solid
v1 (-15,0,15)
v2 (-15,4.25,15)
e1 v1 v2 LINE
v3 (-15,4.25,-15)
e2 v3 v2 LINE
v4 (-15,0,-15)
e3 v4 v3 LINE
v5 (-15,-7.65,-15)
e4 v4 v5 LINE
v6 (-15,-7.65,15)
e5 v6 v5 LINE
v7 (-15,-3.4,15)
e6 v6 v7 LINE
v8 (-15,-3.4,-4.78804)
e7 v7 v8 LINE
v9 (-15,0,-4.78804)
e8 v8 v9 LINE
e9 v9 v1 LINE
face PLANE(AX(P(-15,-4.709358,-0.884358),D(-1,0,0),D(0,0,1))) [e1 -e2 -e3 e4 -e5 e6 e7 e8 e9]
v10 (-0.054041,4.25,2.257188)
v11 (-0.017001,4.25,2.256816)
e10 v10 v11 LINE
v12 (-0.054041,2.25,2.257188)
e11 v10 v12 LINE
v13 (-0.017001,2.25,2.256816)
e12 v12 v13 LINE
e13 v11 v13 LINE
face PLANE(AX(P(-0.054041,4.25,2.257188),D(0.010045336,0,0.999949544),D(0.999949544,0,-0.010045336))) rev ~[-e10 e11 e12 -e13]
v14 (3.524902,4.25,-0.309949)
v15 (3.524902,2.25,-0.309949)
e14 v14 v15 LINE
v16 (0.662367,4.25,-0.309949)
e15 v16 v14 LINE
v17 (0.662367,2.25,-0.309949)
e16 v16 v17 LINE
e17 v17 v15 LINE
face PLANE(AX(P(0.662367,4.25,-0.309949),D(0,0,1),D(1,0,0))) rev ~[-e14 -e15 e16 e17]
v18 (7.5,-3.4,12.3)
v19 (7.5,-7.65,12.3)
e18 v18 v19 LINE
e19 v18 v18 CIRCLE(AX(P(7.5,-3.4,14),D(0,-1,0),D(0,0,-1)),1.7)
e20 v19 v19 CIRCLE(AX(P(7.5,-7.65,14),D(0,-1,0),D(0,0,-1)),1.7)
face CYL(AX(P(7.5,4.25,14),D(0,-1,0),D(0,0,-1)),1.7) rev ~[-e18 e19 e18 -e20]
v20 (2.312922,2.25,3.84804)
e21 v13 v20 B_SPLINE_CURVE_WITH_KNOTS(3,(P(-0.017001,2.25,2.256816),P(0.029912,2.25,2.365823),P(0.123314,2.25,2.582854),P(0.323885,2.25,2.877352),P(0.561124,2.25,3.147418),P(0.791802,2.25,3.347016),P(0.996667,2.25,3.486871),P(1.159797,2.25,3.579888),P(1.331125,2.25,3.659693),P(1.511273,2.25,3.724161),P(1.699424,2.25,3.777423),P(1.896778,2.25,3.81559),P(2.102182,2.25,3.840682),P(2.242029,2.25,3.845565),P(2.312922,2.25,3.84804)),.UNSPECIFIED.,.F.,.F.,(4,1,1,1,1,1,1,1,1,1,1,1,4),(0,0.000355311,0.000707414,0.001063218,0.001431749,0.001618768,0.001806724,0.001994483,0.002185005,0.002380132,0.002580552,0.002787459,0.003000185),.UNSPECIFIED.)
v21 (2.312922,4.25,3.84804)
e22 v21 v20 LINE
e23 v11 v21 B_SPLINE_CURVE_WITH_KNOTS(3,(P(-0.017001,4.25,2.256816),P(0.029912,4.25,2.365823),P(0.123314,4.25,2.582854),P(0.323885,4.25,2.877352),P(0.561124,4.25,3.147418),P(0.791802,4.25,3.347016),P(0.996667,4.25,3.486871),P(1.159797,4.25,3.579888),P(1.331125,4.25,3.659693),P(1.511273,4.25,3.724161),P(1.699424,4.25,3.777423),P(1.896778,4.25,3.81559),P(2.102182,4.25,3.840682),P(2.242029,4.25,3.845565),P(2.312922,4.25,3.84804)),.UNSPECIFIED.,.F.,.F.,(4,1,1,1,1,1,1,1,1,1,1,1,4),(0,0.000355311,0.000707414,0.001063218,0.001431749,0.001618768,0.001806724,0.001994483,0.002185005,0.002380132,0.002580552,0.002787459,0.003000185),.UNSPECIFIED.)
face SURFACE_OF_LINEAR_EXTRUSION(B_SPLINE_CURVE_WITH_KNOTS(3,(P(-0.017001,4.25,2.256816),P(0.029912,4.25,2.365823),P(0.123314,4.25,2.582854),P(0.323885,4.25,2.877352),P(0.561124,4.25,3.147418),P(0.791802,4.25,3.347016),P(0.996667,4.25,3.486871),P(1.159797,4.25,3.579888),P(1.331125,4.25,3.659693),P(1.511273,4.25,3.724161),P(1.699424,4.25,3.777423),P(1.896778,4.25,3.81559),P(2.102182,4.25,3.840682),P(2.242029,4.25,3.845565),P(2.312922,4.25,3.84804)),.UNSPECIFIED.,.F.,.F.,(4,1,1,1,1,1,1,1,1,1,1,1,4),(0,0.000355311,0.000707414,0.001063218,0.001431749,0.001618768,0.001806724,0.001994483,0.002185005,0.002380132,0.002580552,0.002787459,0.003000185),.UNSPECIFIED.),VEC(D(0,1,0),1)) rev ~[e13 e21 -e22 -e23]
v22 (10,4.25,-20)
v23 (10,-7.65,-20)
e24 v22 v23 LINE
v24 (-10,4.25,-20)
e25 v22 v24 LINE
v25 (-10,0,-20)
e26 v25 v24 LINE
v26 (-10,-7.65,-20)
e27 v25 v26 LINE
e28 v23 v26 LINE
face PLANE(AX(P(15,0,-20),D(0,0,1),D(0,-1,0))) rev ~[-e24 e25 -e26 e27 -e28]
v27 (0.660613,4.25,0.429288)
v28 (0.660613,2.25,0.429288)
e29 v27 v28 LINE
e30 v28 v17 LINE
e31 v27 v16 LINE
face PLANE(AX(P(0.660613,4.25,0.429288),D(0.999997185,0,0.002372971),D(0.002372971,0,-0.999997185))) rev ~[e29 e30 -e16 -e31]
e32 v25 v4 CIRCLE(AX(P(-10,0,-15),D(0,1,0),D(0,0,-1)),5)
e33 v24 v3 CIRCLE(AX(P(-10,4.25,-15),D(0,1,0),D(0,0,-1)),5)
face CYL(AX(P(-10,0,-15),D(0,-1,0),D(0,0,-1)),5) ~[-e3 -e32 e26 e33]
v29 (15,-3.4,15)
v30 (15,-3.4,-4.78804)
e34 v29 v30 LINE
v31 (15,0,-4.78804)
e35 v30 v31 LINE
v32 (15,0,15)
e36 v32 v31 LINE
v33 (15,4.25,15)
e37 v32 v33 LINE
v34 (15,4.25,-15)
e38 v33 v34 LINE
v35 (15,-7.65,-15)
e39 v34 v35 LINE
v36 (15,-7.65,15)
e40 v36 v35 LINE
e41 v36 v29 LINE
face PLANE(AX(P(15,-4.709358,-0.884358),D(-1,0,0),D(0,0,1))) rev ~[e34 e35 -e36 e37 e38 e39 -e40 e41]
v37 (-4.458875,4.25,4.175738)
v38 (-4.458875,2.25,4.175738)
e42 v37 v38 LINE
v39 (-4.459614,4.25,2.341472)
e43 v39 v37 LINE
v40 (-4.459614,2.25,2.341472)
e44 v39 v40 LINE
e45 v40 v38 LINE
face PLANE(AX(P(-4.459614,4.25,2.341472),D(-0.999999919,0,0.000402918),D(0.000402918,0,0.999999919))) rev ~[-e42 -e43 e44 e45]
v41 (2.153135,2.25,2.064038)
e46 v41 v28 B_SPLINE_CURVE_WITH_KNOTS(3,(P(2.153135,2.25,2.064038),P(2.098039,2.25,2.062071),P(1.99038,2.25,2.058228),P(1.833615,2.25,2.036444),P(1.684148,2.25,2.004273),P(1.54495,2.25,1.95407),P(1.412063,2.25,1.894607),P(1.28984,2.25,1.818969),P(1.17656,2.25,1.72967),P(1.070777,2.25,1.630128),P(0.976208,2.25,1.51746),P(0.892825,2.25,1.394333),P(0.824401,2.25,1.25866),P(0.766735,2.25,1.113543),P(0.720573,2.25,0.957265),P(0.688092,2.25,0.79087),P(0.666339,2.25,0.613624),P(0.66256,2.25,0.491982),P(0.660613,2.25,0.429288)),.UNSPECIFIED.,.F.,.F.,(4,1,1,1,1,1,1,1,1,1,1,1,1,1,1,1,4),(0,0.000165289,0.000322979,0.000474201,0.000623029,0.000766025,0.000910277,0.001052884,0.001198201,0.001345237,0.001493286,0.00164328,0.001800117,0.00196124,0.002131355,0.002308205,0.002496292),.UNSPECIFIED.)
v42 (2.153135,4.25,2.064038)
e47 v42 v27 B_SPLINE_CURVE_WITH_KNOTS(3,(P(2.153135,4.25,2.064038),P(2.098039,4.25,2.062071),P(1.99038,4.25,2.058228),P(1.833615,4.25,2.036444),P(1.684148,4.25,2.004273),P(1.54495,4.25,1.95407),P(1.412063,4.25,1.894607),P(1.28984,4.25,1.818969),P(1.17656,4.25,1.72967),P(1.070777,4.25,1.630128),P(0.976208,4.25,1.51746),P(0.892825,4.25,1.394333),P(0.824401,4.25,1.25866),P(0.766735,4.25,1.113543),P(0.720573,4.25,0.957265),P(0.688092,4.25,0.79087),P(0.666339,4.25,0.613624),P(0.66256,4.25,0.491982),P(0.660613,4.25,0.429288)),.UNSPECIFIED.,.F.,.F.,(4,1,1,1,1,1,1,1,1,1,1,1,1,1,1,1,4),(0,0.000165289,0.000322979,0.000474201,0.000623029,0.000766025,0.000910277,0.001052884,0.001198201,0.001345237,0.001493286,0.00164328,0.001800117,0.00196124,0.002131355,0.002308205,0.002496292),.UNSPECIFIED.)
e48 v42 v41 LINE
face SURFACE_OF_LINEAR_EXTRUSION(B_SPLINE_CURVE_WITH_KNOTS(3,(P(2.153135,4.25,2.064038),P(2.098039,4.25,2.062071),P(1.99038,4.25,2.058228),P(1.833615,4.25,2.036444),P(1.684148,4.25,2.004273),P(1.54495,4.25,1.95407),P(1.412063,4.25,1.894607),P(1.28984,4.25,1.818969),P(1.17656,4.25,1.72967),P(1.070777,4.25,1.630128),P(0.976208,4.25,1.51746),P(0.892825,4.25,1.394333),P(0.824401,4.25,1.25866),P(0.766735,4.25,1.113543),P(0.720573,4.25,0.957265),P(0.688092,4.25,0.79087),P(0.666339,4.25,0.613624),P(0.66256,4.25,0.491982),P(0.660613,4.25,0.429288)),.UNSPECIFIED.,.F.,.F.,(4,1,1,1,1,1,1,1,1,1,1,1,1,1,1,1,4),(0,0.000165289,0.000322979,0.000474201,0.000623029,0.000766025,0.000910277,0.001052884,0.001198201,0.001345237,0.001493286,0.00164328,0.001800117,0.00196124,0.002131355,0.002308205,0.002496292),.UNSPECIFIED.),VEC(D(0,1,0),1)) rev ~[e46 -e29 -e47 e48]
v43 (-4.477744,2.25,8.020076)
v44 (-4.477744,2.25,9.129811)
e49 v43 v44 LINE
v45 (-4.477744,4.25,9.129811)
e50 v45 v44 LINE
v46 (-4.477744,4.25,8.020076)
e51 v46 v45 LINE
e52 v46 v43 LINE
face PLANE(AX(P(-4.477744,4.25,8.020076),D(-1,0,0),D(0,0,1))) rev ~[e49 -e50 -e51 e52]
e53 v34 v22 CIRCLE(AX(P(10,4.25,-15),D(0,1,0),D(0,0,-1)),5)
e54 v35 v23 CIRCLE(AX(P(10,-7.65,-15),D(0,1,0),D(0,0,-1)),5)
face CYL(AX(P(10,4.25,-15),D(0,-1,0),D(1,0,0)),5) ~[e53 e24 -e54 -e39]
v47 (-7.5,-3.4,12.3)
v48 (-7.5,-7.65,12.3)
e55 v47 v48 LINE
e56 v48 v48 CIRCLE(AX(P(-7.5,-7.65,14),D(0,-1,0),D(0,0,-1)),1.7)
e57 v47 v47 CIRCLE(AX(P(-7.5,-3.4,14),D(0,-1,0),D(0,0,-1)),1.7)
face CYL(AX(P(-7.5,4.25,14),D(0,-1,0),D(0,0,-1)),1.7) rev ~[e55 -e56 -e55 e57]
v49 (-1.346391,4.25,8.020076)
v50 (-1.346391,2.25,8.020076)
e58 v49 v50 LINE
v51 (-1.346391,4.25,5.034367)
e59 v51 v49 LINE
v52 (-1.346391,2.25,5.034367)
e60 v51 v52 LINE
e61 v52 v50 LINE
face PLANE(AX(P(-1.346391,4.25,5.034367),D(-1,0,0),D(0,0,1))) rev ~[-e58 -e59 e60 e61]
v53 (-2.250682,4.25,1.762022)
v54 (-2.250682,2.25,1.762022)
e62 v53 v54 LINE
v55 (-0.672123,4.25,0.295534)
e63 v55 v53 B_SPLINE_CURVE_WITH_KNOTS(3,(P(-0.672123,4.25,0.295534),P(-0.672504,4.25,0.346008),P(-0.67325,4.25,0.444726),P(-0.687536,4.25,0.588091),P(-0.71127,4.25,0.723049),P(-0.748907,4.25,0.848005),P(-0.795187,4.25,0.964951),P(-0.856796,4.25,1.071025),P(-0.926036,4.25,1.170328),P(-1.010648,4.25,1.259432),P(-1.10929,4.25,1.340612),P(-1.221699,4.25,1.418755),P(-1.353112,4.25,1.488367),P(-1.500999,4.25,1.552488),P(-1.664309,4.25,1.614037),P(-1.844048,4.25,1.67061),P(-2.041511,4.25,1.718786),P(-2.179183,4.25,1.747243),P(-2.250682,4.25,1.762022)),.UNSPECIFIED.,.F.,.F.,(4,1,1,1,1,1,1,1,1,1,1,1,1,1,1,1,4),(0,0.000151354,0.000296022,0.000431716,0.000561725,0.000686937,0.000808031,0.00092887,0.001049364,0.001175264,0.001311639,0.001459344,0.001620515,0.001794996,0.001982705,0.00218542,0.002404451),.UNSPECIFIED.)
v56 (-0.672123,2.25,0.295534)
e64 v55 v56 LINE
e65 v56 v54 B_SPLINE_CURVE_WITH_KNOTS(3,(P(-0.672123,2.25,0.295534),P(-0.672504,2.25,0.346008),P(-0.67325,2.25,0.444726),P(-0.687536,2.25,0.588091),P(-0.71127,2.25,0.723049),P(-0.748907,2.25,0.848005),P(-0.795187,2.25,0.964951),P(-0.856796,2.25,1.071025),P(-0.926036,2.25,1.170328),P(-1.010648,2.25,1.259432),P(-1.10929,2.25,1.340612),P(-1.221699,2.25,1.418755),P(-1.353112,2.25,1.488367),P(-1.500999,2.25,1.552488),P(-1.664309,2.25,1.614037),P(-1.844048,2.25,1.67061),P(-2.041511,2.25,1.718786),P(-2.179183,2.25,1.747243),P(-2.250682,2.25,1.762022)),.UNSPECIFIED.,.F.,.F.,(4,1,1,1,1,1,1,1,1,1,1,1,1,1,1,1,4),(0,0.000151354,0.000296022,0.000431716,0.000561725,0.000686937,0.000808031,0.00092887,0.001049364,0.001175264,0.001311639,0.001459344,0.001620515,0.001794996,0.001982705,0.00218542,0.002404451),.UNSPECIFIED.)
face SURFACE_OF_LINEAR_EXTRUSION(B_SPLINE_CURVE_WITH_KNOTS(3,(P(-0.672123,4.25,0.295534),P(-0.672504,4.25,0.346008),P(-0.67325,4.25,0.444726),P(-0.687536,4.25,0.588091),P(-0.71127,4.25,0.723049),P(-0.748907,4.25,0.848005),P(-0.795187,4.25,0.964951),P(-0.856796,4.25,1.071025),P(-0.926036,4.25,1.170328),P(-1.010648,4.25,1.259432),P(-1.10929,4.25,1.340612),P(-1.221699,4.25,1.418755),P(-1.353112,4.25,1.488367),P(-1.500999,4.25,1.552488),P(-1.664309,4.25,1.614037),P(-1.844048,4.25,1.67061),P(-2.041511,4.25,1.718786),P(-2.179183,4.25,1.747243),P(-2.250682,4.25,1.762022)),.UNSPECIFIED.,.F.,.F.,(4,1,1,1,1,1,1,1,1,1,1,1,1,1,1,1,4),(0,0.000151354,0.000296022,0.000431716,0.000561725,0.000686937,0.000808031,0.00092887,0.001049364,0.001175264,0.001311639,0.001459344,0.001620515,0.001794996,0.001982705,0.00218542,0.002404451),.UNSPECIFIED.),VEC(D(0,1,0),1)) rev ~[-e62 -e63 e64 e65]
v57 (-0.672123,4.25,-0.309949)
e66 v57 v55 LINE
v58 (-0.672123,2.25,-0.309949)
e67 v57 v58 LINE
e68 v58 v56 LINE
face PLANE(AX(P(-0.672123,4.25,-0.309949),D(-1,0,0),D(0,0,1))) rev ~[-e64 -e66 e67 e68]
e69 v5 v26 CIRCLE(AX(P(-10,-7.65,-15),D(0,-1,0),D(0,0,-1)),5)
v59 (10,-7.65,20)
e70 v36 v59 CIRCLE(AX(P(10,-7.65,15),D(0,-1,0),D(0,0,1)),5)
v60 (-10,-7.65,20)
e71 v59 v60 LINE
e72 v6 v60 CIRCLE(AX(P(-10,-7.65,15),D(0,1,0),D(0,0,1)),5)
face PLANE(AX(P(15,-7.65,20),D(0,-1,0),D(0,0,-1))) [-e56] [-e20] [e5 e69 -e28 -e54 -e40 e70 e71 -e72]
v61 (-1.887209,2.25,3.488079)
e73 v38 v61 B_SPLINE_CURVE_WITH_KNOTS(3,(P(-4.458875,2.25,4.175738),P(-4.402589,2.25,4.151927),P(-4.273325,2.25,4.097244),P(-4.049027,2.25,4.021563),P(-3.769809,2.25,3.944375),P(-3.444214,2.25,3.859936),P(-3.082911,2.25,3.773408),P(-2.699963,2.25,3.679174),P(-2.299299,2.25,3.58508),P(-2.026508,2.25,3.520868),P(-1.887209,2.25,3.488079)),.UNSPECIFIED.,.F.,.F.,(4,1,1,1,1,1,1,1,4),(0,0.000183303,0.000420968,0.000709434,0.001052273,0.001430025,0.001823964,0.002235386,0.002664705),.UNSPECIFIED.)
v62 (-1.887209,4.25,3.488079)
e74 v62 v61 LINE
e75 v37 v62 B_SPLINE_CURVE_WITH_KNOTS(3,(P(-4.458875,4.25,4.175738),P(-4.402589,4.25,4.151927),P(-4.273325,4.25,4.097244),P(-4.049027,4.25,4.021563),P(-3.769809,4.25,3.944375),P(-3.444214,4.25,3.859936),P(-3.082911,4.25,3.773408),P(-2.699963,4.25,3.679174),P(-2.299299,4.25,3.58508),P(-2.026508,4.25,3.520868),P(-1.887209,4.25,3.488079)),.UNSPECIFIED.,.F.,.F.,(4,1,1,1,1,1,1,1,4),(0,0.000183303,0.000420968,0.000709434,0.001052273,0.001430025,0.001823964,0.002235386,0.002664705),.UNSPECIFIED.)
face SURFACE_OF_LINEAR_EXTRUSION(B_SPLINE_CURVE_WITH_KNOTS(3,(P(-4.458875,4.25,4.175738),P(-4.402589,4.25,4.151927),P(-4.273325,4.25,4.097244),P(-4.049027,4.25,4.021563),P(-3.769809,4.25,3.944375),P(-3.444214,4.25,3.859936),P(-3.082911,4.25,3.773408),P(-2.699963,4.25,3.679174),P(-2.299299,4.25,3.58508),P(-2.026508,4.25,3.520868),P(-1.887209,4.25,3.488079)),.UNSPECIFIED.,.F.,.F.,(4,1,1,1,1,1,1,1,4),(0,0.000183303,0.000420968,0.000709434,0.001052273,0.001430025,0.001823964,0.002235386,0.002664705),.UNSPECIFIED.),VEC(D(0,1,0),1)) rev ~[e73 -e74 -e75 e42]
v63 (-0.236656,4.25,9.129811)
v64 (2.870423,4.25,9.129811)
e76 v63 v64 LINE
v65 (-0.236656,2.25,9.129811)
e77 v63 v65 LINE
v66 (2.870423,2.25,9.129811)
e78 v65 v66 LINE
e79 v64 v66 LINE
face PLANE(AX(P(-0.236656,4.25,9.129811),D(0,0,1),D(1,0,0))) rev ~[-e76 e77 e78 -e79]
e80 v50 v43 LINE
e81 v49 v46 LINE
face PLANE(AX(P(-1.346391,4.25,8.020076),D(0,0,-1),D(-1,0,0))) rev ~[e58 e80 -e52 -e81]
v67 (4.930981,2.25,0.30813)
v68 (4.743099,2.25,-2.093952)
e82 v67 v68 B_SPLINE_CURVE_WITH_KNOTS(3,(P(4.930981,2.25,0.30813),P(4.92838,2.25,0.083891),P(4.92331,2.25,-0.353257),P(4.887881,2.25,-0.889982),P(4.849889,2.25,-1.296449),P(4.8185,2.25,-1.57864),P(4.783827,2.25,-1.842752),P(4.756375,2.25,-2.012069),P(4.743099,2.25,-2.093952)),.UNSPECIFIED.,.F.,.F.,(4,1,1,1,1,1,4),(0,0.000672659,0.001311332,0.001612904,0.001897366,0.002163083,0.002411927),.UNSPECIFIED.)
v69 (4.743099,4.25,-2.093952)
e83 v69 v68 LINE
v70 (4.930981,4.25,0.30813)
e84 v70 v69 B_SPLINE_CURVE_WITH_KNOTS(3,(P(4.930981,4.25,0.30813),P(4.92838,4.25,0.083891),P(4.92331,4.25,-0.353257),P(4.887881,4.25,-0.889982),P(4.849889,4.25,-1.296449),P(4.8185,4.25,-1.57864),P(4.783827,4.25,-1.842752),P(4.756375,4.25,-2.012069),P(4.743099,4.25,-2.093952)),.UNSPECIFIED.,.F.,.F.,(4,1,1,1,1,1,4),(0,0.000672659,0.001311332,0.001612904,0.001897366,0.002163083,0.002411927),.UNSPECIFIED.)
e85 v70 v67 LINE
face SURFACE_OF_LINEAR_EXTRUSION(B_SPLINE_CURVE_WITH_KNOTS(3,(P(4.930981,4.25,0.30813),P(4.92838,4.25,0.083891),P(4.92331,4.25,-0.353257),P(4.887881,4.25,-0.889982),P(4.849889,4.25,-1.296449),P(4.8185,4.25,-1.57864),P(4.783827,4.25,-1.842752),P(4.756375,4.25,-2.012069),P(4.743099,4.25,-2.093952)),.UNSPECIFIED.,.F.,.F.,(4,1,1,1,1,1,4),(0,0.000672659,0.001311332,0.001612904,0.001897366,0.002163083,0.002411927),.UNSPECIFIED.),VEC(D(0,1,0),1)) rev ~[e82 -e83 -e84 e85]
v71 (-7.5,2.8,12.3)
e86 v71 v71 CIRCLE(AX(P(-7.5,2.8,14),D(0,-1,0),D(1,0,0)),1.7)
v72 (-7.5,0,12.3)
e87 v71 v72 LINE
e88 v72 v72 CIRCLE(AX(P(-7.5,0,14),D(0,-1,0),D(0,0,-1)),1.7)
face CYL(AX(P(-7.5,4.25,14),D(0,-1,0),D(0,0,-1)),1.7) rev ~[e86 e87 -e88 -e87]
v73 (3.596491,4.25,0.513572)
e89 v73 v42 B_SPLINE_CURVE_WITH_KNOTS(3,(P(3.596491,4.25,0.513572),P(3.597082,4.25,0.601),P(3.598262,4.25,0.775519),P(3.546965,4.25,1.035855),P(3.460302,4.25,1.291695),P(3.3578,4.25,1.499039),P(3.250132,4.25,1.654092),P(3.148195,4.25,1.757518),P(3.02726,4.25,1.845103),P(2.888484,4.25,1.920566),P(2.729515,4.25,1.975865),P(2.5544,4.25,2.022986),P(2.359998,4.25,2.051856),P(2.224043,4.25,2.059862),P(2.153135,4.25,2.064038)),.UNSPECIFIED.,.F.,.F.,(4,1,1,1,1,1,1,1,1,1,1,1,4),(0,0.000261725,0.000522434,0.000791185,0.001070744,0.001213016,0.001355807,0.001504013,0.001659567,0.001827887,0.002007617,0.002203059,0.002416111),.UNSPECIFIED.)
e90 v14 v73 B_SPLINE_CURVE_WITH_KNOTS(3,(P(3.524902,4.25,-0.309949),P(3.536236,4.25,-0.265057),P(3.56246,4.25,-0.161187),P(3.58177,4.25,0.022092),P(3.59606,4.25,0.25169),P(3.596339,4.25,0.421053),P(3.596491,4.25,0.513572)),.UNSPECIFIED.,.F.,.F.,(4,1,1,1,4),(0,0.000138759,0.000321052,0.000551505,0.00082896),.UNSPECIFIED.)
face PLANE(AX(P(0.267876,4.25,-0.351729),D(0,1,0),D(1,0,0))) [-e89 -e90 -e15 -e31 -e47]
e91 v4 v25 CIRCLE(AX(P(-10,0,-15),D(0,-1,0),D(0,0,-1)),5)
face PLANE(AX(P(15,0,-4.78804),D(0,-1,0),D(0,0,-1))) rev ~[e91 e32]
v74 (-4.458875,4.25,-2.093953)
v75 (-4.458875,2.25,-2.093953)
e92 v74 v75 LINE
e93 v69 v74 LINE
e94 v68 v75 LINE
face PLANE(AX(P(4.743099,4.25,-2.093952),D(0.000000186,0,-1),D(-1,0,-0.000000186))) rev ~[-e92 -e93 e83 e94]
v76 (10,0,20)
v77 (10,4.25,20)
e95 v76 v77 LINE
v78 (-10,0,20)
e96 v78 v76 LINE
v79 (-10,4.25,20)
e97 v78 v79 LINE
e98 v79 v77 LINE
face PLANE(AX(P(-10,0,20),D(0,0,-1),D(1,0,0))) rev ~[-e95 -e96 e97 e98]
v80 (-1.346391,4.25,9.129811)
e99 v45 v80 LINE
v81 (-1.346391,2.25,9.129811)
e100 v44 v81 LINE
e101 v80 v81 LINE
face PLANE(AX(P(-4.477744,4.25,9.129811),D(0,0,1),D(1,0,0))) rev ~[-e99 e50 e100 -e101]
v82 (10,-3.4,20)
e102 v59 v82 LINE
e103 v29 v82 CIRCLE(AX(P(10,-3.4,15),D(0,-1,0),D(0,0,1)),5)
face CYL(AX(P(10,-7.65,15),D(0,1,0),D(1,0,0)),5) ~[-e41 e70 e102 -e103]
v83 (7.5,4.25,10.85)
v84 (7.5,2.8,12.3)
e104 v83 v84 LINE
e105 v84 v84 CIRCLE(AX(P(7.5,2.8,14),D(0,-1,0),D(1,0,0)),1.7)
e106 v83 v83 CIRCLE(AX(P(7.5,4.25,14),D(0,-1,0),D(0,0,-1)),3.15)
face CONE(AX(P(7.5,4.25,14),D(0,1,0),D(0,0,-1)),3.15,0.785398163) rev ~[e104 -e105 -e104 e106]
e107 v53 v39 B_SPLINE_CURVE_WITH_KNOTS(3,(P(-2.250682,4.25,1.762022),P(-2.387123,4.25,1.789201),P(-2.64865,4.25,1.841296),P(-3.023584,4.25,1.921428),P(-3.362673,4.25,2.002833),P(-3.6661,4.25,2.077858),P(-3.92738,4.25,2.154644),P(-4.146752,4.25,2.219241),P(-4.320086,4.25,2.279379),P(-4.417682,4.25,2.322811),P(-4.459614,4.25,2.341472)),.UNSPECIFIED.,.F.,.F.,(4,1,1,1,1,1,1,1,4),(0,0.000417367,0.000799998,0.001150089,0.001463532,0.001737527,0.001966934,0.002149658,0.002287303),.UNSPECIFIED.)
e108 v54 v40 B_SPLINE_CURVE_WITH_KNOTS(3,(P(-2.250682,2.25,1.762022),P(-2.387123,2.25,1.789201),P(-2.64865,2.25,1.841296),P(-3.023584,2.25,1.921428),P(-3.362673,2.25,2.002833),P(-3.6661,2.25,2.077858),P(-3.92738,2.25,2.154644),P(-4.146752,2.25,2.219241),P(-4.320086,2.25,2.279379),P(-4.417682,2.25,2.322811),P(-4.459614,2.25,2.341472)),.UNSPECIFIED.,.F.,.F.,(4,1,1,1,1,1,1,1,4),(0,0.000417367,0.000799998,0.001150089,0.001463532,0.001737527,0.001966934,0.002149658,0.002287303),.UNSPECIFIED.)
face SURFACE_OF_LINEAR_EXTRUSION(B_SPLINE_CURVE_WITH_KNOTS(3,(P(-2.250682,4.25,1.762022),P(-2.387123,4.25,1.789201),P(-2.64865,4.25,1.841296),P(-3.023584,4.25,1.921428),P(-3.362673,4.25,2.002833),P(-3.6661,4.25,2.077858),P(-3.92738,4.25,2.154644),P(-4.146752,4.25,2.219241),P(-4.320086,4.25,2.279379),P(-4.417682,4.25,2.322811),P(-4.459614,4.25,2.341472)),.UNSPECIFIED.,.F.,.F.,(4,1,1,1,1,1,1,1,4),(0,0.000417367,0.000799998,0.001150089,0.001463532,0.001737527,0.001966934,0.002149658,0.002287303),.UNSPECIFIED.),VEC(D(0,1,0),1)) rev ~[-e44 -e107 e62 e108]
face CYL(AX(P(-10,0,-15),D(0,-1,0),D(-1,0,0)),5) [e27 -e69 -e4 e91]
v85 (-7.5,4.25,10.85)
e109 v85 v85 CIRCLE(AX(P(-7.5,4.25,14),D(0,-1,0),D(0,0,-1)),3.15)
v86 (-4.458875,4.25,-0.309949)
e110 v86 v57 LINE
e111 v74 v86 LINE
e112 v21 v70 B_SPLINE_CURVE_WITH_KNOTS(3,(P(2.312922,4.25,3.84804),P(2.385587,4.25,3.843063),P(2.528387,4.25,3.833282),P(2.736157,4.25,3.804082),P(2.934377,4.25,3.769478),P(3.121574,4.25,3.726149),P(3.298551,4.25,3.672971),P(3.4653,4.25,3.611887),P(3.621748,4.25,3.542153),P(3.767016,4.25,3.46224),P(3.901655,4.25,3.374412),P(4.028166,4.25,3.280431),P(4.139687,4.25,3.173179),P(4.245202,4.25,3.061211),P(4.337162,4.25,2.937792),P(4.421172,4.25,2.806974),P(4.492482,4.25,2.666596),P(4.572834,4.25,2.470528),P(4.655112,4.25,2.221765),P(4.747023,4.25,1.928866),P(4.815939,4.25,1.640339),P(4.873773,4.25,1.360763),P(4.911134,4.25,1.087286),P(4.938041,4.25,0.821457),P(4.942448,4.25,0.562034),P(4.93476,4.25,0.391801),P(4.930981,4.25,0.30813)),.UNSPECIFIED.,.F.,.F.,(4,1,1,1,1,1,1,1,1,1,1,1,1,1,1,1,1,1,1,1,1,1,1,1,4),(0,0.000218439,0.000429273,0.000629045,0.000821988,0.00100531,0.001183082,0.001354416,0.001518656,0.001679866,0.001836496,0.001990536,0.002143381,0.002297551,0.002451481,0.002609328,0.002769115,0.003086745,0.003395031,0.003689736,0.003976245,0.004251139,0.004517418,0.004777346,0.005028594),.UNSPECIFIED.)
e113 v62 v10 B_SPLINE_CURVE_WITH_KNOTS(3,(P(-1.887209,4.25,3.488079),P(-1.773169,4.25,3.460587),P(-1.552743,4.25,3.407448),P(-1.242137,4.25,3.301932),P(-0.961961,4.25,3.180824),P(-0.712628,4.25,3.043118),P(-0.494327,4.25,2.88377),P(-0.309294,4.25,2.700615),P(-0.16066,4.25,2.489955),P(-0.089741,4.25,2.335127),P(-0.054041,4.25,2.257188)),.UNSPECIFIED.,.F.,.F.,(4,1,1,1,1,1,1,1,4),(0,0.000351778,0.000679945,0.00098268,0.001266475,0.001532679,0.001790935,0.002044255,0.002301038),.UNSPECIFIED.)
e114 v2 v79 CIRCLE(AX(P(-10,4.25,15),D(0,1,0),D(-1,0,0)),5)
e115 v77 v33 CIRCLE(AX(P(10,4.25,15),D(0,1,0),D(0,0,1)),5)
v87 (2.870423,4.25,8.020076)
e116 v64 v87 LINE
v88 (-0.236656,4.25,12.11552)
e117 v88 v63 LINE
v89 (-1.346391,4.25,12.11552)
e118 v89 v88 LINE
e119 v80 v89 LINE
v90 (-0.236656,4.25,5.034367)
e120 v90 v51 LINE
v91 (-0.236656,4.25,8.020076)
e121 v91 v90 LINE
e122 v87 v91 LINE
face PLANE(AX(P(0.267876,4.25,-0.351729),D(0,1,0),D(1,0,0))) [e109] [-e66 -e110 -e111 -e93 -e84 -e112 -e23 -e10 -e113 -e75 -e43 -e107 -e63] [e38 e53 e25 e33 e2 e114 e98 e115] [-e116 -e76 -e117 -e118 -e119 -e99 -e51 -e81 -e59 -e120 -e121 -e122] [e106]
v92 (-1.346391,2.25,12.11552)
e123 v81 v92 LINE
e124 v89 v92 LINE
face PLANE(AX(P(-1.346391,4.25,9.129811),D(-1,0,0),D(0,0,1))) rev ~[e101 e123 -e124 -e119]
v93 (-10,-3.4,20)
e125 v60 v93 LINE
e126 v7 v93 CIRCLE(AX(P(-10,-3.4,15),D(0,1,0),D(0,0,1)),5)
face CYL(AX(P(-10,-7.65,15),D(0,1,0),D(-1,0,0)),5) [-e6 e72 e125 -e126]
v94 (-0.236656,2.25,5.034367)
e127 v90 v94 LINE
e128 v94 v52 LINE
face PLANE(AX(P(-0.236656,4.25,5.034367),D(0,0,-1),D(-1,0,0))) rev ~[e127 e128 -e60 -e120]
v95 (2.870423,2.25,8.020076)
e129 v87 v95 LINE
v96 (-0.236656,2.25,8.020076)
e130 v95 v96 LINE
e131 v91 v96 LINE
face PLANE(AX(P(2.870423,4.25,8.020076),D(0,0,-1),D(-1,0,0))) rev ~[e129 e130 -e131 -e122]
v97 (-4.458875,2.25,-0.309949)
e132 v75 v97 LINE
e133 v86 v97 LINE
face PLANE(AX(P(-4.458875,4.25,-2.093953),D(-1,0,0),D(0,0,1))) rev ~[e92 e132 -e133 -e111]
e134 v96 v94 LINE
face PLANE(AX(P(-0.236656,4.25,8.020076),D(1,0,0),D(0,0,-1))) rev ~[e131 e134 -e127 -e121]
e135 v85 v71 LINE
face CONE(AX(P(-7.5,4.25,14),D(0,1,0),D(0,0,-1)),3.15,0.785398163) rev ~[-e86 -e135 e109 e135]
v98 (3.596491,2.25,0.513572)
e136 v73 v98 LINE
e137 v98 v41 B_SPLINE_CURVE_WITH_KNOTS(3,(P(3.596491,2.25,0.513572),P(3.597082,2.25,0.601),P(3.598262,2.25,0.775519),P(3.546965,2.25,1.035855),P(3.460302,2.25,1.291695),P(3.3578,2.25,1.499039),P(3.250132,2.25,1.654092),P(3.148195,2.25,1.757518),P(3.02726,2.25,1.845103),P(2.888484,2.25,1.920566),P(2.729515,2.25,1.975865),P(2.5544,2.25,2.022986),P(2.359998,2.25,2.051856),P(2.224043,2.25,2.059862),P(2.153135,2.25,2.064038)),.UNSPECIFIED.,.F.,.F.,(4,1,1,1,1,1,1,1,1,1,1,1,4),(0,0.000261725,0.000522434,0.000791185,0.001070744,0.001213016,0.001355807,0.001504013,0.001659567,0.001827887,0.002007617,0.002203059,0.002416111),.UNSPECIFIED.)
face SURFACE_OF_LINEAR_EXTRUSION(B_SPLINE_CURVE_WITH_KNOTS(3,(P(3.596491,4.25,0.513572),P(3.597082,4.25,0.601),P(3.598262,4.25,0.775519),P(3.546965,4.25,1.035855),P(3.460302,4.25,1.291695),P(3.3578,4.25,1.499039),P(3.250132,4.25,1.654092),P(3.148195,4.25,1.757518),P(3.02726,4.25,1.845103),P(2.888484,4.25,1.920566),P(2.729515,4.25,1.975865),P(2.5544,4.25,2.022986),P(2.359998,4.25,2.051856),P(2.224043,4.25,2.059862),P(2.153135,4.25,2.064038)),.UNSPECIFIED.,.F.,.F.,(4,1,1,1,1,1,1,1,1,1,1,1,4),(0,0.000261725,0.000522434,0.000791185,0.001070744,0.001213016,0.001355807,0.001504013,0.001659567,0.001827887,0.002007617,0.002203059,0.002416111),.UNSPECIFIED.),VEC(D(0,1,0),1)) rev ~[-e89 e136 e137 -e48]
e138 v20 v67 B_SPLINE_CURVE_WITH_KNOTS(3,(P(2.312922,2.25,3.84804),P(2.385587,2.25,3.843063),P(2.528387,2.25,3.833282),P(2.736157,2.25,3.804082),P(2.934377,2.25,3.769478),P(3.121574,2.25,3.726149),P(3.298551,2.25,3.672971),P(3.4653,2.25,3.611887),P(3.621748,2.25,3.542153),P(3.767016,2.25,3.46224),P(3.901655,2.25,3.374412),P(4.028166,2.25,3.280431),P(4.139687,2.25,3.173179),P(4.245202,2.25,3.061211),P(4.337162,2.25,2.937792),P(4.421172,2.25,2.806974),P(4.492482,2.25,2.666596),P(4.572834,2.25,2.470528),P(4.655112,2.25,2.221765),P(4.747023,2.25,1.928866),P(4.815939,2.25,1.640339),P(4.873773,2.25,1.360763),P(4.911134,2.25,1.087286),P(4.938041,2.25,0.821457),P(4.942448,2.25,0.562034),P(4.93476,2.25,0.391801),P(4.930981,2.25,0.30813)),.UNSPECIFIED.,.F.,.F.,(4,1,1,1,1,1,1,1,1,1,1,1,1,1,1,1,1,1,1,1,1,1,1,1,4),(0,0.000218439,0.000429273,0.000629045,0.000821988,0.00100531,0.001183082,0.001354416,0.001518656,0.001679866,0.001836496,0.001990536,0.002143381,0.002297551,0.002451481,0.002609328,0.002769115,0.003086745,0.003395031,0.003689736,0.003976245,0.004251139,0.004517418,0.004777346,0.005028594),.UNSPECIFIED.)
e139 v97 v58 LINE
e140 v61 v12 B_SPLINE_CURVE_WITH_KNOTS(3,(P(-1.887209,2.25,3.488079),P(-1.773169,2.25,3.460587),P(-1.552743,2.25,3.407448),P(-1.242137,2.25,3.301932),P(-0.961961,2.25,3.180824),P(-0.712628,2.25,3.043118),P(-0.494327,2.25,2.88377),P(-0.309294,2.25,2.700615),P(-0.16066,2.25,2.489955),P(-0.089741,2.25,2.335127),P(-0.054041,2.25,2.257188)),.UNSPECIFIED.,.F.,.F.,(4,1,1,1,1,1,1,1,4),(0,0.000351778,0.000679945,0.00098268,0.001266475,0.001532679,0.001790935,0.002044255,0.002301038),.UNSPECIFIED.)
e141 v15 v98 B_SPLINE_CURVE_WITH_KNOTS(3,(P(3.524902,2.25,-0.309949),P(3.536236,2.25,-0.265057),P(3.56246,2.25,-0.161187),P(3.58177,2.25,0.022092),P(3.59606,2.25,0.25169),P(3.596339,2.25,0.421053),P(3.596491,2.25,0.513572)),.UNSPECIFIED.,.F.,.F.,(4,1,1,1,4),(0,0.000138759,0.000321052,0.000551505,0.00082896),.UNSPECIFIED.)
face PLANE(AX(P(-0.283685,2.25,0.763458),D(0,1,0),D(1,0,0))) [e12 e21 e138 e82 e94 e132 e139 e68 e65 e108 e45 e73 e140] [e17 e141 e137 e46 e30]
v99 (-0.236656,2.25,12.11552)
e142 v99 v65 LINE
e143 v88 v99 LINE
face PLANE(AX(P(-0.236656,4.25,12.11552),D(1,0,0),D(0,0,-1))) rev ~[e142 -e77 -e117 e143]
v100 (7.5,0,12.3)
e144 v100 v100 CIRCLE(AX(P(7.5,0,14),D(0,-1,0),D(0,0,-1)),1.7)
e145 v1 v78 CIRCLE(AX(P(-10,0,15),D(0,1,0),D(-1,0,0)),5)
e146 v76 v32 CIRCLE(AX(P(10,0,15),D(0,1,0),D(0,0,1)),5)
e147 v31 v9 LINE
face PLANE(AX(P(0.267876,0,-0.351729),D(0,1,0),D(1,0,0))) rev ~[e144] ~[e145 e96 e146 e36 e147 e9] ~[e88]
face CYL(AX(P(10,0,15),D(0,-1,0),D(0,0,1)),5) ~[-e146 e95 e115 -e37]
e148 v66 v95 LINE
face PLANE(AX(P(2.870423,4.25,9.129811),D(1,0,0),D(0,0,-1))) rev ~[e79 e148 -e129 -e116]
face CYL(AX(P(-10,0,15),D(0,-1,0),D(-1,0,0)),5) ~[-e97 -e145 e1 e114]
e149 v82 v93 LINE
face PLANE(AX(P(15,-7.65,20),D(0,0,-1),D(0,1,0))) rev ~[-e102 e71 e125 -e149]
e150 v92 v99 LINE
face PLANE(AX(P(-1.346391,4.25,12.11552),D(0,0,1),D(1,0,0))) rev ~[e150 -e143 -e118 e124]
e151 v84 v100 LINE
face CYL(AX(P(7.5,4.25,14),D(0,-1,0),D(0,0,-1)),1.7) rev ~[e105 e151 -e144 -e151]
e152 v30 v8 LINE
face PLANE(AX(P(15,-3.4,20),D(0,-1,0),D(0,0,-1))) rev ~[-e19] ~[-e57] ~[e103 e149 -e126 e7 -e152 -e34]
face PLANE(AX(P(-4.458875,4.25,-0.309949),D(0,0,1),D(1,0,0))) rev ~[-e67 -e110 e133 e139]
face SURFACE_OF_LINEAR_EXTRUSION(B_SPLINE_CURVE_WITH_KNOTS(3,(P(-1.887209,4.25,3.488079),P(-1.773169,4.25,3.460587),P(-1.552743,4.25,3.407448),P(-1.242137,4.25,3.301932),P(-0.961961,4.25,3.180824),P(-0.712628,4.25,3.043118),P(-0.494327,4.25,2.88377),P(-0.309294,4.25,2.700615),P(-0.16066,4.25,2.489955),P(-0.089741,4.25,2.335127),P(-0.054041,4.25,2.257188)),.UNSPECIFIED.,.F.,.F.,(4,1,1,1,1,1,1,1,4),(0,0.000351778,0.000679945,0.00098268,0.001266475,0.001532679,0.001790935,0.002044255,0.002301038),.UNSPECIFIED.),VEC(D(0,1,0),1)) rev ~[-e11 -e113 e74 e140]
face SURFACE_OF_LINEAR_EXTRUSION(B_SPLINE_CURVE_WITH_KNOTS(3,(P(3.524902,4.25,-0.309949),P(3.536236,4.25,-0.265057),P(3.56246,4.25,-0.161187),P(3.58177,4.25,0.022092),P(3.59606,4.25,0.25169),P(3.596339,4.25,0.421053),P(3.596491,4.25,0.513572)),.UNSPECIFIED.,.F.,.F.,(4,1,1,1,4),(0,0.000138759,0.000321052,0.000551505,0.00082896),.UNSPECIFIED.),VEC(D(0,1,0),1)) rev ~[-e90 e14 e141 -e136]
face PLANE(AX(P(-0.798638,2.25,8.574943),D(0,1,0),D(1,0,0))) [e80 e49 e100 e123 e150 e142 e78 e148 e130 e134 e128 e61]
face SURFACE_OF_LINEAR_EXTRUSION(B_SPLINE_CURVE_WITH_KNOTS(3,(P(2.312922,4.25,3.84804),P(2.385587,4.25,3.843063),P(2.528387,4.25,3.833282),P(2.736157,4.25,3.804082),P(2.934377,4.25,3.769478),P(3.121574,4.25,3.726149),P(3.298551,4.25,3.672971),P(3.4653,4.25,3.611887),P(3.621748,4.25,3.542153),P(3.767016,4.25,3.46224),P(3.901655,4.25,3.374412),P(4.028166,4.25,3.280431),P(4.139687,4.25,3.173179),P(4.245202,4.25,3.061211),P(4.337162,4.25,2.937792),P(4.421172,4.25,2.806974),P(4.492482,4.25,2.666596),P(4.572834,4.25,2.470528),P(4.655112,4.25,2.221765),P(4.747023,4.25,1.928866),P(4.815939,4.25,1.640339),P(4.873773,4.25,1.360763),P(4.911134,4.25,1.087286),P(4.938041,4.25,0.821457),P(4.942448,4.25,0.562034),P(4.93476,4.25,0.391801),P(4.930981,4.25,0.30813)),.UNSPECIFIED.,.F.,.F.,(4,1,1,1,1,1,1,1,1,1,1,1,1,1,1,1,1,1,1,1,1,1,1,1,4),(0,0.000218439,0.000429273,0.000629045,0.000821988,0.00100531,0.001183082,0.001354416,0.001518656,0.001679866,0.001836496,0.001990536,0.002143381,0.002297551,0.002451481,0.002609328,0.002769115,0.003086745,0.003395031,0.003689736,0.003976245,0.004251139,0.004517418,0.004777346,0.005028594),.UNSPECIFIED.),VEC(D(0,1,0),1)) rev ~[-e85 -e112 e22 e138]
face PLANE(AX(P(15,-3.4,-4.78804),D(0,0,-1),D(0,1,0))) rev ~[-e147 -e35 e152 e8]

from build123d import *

# Parameters (mm, degrees)
BOSS_EXTRUDE1_DEPTH                                 = 4.25
BOSS_EXTRUDE2_DEPTH                                 = 30
FILLET1_R                                           = 5
CSK_FOR_M3_COUNTERSUNK_FLAT_HEAD_SCREW1_D           = 3.4
CSK_FOR_M3_COUNTERSUNK_FLAT_HEAD_SCREW1_CSINK_D     = 6.3
CSK_FOR_M3_COUNTERSUNK_FLAT_HEAD_SCREW1_CSINK_ANGLE = 90
CUT_EXTRUDE3_DEPTH                                  = 2


with BuildPart() as part:
    # Sketch1 → Boss-Extrude1 (new body)
    with BuildSketch(Plane(origin=(0, 0, 0), x_dir=(1, 0, 0), z_dir=(0, 1, 0))):
        with BuildLine():
            Line((15, 15), (15, 20))
            Line((15, 20), (10, 20))
            Line((10, 20), (-10, 20))
            ThreePointArc((-10, 20), (-13.535533906, 18.535533906), (-15, 15))
            Line((-15, 15), (-15, -15))
            ThreePointArc((-15, -15), (-13.535533906, -18.535533906), (-10, -20))
            Line((-10, -20), (10, -20))
            ThreePointArc((10, -20), (13.535533906, -18.535533906), (15, -15))
            Line((15, -15), (15, 15))
        make_face()
    extrude(amount=BOSS_EXTRUDE1_DEPTH)

    # Sketch8 → Boss-Extrude2 (add)
    with BuildSketch(Plane(origin=(15, 0, 0), x_dir=(0, 0, -1), z_dir=(1, 0, 0))):
        Polygon((4.788040489, 0), (20, 0), (20, -7.65), (5.253900522, -7.65), (-20, -7.65), (-20, -3.4), (4.788040489, -3.4), align=None)
    extrude(amount=-BOSS_EXTRUDE2_DEPTH)

    # Fillet1
    fillet1_edges = [part.edges().sort_by_distance(p)[0] for p in [
        (-15, -5.525, 20),
        (15, -5.525, 20),
        (-15, -3.825, -20),
        (15, -1.7, -20),
    ]]
    fillet(fillet1_edges, radius=FILLET1_R)

    # CSK for M3 Countersunk Flat Head Screw1 (through all)
    with Locations(Plane(origin=(7.5, 4.25, 14), x_dir=(0, 0, 1), z_dir=(0, 1, 0))):
        with Locations((0, 0), (0, -15)):
            CounterSinkHole(CSK_FOR_M3_COUNTERSUNK_FLAT_HEAD_SCREW1_D / 2, CSK_FOR_M3_COUNTERSUNK_FLAT_HEAD_SCREW1_CSINK_D / 2, counter_sink_angle=CSK_FOR_M3_COUNTERSUNK_FLAT_HEAD_SCREW1_CSINK_ANGLE)

    # Sketch16 → Cut-Extrude3 (cut)
    with BuildSketch(Plane(origin=(0, 4.25, 0), x_dir=(1, 0, 0), z_dir=(0, 1, 0))):
        with BuildLine():
            Line((-4.458875061, 2.093953282), (-4.458875061, 0.309949228))
            Line((-4.458875061, 0.309949228), (-0.672122679, 0.309949228))
            Line((-0.672122679, 0.309949228), (-0.672122679, -0.295533742))
            add(Edge.make_bspline(
                [(-0.672122679, -0.295533742), (-0.672504144, -0.346007588), (-0.673250223, -0.444725636), (-0.687535915, -0.588091446), (-0.711269814, -0.723049373), (-0.748906576, -0.848005309), (-0.795186736, -0.964950699), (-0.856795731, -1.071025204), (-0.926036377, -1.170327836), (-1.010647749, -1.259432456), (-1.109289731, -1.34061223), (-1.221698501, -1.418754612), (-1.353111911, -1.488366917), (-1.500999377, -1.552487837), (-1.66430924, -1.614037158), (-1.844048215, -1.67060951), (-2.041510814, -1.718785961), (-2.179182831, -1.747242983), (-2.25068209, -1.762021993)],
                knots=[0, 0, 0, 0, 0.000151354, 0.000296022, 0.000431716, 0.000561725, 0.000686937, 0.000808031, 0.00092887, 0.001049364, 0.001175264, 0.001311639, 0.001459344, 0.001620515, 0.001794996, 0.001982705, 0.00218542, 0.002404451, 0.002404451, 0.002404451, 0.002404451], degree=3))
            add(Edge.make_bspline(
                [(-2.25068209, -1.762021993), (-2.387123246, -1.789200508), (-2.648649934, -1.841295546), (-3.023584407, -1.921428366), (-3.362673147, -2.002832785), (-3.666100231, -2.077858492), (-3.927379781, -2.154644362), (-4.146751884, -2.219240543), (-4.32008565, -2.279378782), (-4.417682148, -2.322811057), (-4.45961412, -2.341471572)],
                knots=[0, 0, 0, 0, 0.000417367, 0.000799998, 0.001150089, 0.001463532, 0.001737527, 0.001966934, 0.002149658, 0.002287303, 0.002287303, 0.002287303, 0.002287303], degree=3))
            Line((-4.45961412, -2.341471572), (-4.458875061, -4.175738487))
            add(Edge.make_bspline(
                [(-4.458875061, -4.175738487), (-4.402589194, -4.151927467), (-4.273325007, -4.097243897), (-4.049026625, -4.021563183), (-3.76980856, -3.944375115), (-3.44421419, -3.85993596), (-3.082911414, -3.77340803), (-2.69996289, -3.679173777), (-2.299298994, -3.5850796), (-2.02650801, -3.520868388), (-1.887209172, -3.488079375)],
                knots=[0, 0, 0, 0, 0.000183303, 0.000420968, 0.000709434, 0.001052273, 0.001430025, 0.001823964, 0.002235386, 0.002664705, 0.002664705, 0.002664705, 0.002664705], degree=3))
            add(Edge.make_bspline(
                [(-1.887209172, -3.488079375), (-1.773168942, -3.460587046), (-1.5527428, -3.40744766), (-1.242137194, -3.301932392), (-0.961961493, -3.180824272), (-0.712628496, -3.043118308), (-0.494327391, -2.883770123), (-0.309294243, -2.700614679), (-0.160659908, -2.489955128), (-0.089741414, -2.335127445), (-0.054041414, -2.257187997)],
                knots=[0, 0, 0, 0, 0.000351778, 0.000679945, 0.00098268, 0.001266475, 0.001532679, 0.001790935, 0.002044255, 0.002301038, 0.002301038, 0.002301038, 0.002301038], degree=3))
            Line((-0.054041414, -2.257187997), (-0.017001018, -2.256815895))
            add(Edge.make_bspline(
                [(-0.017001018, -2.256815895), (0.029911866, -2.365823451), (0.123313913, -2.582853997), (0.323884915, -2.877351795), (0.561124066, -3.147418036), (0.791801521, -3.347016191), (0.996667391, -3.486871195), (1.159796885, -3.579888369), (1.331125187, -3.659692635), (1.511272618, -3.724161338), (1.699423762, -3.777423006), (1.896777905, -3.815590183), (2.10218195, -3.840681678), (2.242029099, -3.845564971), (2.31292232, -3.848040477)],
                knots=[0, 0, 0, 0, 0.000355311, 0.000707414, 0.001063218, 0.001431749, 0.001618768, 0.001806724, 0.001994483, 0.002185005, 0.002380132, 0.002580552, 0.002787459, 0.003000185, 0.003000185, 0.003000185, 0.003000185], degree=3))
            add(Edge.make_bspline(
                [(2.31292232, -3.848040477), (2.385587327, -3.843063086), (2.528387107, -3.833281621), (2.736157027, -3.804081983), (2.934377079, -3.769477794), (3.12157362, -3.72614897), (3.298551, -3.672971002), (3.465300172, -3.611887222), (3.621747563, -3.542152622), (3.767015737, -3.462240208), (3.901655002, -3.374411599), (4.028165561, -3.280431232), (4.139686737, -3.173179002), (4.245201989, -3.061210534), (4.337161514, -2.937791912), (4.421171972, -2.806974416), (4.492481699, -2.666595654), (4.572833747, -2.470528249), (4.655111908, -2.221765184), (4.747022893, -1.928865862), (4.815938639, -1.640339407), (4.873772811, -1.360763019), (4.911134187, -1.087285562), (4.938041391, -0.821456672), (4.942448373, -0.562034079), (4.934759857, -0.391801423), (4.930980872, -0.308130323)],
                knots=[0, 0, 0, 0, 0.000218439, 0.000429273, 0.000629045, 0.000821988, 0.00100531, 0.001183082, 0.001354416, 0.001518656, 0.001679866, 0.001836496, 0.001990536, 0.002143381, 0.002297551, 0.002451481, 0.002609328, 0.002769115, 0.003086745, 0.003395031, 0.003689736, 0.003976245, 0.004251139, 0.004517418, 0.004777346, 0.005028594, 0.005028594, 0.005028594, 0.005028594], degree=3))
            add(Edge.make_bspline(
                [(4.930980872, -0.308130323), (4.928380241, -0.083891229), (4.92331038, 0.353257086), (4.887880892, 0.889981636), (4.849888886, 1.296449232), (4.81849973, 1.578640143), (4.783827219, 1.842751715), (4.756374827, 2.012069012), (4.743098736, 2.093951568)],
                knots=[0, 0, 0, 0, 0.000672659, 0.001311332, 0.001612904, 0.001897366, 0.002163083, 0.002411927, 0.002411927, 0.002411927, 0.002411927], degree=3))
            Line((4.743098736, 2.093951568), (-4.458875061, 2.093953282))
        make_face()
        with BuildLine():
            add(Edge.make_bspline(
                [(3.524901679, 0.309949228), (3.5362357, 0.265056815), (3.562459702, 0.161187345), (3.581770379, -0.022092437), (3.596059535, -0.251690395), (3.596338527, -0.421053384), (3.596490933, -0.513571537)],
                knots=[0, 0, 0, 0, 0.000138759, 0.000321052, 0.000551505, 0.00082896, 0.00082896, 0.00082896, 0.00082896], degree=3))
            add(Edge.make_bspline(
                [(3.596490933, -0.513571537), (3.597082169, -0.601000244), (3.598262348, -0.775518572), (3.546964591, -1.035855351), (3.4603018, -1.291694822), (3.357800432, -1.499038994), (3.250131892, -1.654091538), (3.148195375, -1.757518057), (3.02726046, -1.845102985), (2.888483977, -1.920565561), (2.729515001, -1.975864581), (2.554400178, -2.022986207), (2.359997891, -2.051855745), (2.224042634, -2.059862294), (2.153134709, -2.064038137)],
                knots=[0, 0, 0, 0, 0.000261725, 0.000522434, 0.000791185, 0.001070744, 0.001213016, 0.001355807, 0.001504013, 0.001659567, 0.001827887, 0.002007617, 0.002203059, 0.002416111, 0.002416111, 0.002416111, 0.002416111], degree=3))
            add(Edge.make_bspline(
                [(2.153134709, -2.064038137), (2.098038917, -2.062071411), (1.990380235, -2.058228374), (1.833615321, -2.036444408), (1.684147968, -2.004273349), (1.544949695, -1.954070069), (1.412062778, -1.894607052), (1.289839735, -1.818968912), (1.176559769, -1.72966981), (1.070777099, -1.630128202), (0.976208078, -1.517460335), (0.892824958, -1.394333332), (0.82440131, -1.258660147), (0.766734521, -1.113542778), (0.720573152, -0.95726533), (0.688091814, -0.790869848), (0.666338768, -0.613623823), (0.662560413, -0.491981725), (0.660613067, -0.429287962)],
                knots=[0, 0, 0, 0, 0.000165289, 0.000322979, 0.000474201, 0.000623029, 0.000766025, 0.000910277, 0.001052884, 0.001198201, 0.001345237, 0.001493286, 0.00164328, 0.001800117, 0.00196124, 0.002131355, 0.002308205, 0.002496292, 0.002496292, 0.002496292, 0.002496292], degree=3))
            Line((0.660613067, -0.429287962), (0.66236726, 0.309949228))
            Line((0.66236726, 0.309949228), (3.524901679, 0.309949228))
        make_face(mode=Mode.SUBTRACT)
        Polygon((-0.236655826, -5.03436712), (-1.34639128, -5.03436712), (-1.34639128, -8.020075729), (-4.477744211, -8.020075729), (-4.477744211, -9.129811183), (-1.34639128, -9.129811183), (-1.34639128, -12.115519792), (-0.236655826, -12.115519792), (-0.236655826, -9.129811183), (2.870423051, -9.129811183), (2.870423051, -8.020075729), (-0.236655826, -8.020075729), align=None)
    extrude(amount=-CUT_EXTRUDE3_DEPTH, mode=Mode.SUBTRACT)


solid = part.part
